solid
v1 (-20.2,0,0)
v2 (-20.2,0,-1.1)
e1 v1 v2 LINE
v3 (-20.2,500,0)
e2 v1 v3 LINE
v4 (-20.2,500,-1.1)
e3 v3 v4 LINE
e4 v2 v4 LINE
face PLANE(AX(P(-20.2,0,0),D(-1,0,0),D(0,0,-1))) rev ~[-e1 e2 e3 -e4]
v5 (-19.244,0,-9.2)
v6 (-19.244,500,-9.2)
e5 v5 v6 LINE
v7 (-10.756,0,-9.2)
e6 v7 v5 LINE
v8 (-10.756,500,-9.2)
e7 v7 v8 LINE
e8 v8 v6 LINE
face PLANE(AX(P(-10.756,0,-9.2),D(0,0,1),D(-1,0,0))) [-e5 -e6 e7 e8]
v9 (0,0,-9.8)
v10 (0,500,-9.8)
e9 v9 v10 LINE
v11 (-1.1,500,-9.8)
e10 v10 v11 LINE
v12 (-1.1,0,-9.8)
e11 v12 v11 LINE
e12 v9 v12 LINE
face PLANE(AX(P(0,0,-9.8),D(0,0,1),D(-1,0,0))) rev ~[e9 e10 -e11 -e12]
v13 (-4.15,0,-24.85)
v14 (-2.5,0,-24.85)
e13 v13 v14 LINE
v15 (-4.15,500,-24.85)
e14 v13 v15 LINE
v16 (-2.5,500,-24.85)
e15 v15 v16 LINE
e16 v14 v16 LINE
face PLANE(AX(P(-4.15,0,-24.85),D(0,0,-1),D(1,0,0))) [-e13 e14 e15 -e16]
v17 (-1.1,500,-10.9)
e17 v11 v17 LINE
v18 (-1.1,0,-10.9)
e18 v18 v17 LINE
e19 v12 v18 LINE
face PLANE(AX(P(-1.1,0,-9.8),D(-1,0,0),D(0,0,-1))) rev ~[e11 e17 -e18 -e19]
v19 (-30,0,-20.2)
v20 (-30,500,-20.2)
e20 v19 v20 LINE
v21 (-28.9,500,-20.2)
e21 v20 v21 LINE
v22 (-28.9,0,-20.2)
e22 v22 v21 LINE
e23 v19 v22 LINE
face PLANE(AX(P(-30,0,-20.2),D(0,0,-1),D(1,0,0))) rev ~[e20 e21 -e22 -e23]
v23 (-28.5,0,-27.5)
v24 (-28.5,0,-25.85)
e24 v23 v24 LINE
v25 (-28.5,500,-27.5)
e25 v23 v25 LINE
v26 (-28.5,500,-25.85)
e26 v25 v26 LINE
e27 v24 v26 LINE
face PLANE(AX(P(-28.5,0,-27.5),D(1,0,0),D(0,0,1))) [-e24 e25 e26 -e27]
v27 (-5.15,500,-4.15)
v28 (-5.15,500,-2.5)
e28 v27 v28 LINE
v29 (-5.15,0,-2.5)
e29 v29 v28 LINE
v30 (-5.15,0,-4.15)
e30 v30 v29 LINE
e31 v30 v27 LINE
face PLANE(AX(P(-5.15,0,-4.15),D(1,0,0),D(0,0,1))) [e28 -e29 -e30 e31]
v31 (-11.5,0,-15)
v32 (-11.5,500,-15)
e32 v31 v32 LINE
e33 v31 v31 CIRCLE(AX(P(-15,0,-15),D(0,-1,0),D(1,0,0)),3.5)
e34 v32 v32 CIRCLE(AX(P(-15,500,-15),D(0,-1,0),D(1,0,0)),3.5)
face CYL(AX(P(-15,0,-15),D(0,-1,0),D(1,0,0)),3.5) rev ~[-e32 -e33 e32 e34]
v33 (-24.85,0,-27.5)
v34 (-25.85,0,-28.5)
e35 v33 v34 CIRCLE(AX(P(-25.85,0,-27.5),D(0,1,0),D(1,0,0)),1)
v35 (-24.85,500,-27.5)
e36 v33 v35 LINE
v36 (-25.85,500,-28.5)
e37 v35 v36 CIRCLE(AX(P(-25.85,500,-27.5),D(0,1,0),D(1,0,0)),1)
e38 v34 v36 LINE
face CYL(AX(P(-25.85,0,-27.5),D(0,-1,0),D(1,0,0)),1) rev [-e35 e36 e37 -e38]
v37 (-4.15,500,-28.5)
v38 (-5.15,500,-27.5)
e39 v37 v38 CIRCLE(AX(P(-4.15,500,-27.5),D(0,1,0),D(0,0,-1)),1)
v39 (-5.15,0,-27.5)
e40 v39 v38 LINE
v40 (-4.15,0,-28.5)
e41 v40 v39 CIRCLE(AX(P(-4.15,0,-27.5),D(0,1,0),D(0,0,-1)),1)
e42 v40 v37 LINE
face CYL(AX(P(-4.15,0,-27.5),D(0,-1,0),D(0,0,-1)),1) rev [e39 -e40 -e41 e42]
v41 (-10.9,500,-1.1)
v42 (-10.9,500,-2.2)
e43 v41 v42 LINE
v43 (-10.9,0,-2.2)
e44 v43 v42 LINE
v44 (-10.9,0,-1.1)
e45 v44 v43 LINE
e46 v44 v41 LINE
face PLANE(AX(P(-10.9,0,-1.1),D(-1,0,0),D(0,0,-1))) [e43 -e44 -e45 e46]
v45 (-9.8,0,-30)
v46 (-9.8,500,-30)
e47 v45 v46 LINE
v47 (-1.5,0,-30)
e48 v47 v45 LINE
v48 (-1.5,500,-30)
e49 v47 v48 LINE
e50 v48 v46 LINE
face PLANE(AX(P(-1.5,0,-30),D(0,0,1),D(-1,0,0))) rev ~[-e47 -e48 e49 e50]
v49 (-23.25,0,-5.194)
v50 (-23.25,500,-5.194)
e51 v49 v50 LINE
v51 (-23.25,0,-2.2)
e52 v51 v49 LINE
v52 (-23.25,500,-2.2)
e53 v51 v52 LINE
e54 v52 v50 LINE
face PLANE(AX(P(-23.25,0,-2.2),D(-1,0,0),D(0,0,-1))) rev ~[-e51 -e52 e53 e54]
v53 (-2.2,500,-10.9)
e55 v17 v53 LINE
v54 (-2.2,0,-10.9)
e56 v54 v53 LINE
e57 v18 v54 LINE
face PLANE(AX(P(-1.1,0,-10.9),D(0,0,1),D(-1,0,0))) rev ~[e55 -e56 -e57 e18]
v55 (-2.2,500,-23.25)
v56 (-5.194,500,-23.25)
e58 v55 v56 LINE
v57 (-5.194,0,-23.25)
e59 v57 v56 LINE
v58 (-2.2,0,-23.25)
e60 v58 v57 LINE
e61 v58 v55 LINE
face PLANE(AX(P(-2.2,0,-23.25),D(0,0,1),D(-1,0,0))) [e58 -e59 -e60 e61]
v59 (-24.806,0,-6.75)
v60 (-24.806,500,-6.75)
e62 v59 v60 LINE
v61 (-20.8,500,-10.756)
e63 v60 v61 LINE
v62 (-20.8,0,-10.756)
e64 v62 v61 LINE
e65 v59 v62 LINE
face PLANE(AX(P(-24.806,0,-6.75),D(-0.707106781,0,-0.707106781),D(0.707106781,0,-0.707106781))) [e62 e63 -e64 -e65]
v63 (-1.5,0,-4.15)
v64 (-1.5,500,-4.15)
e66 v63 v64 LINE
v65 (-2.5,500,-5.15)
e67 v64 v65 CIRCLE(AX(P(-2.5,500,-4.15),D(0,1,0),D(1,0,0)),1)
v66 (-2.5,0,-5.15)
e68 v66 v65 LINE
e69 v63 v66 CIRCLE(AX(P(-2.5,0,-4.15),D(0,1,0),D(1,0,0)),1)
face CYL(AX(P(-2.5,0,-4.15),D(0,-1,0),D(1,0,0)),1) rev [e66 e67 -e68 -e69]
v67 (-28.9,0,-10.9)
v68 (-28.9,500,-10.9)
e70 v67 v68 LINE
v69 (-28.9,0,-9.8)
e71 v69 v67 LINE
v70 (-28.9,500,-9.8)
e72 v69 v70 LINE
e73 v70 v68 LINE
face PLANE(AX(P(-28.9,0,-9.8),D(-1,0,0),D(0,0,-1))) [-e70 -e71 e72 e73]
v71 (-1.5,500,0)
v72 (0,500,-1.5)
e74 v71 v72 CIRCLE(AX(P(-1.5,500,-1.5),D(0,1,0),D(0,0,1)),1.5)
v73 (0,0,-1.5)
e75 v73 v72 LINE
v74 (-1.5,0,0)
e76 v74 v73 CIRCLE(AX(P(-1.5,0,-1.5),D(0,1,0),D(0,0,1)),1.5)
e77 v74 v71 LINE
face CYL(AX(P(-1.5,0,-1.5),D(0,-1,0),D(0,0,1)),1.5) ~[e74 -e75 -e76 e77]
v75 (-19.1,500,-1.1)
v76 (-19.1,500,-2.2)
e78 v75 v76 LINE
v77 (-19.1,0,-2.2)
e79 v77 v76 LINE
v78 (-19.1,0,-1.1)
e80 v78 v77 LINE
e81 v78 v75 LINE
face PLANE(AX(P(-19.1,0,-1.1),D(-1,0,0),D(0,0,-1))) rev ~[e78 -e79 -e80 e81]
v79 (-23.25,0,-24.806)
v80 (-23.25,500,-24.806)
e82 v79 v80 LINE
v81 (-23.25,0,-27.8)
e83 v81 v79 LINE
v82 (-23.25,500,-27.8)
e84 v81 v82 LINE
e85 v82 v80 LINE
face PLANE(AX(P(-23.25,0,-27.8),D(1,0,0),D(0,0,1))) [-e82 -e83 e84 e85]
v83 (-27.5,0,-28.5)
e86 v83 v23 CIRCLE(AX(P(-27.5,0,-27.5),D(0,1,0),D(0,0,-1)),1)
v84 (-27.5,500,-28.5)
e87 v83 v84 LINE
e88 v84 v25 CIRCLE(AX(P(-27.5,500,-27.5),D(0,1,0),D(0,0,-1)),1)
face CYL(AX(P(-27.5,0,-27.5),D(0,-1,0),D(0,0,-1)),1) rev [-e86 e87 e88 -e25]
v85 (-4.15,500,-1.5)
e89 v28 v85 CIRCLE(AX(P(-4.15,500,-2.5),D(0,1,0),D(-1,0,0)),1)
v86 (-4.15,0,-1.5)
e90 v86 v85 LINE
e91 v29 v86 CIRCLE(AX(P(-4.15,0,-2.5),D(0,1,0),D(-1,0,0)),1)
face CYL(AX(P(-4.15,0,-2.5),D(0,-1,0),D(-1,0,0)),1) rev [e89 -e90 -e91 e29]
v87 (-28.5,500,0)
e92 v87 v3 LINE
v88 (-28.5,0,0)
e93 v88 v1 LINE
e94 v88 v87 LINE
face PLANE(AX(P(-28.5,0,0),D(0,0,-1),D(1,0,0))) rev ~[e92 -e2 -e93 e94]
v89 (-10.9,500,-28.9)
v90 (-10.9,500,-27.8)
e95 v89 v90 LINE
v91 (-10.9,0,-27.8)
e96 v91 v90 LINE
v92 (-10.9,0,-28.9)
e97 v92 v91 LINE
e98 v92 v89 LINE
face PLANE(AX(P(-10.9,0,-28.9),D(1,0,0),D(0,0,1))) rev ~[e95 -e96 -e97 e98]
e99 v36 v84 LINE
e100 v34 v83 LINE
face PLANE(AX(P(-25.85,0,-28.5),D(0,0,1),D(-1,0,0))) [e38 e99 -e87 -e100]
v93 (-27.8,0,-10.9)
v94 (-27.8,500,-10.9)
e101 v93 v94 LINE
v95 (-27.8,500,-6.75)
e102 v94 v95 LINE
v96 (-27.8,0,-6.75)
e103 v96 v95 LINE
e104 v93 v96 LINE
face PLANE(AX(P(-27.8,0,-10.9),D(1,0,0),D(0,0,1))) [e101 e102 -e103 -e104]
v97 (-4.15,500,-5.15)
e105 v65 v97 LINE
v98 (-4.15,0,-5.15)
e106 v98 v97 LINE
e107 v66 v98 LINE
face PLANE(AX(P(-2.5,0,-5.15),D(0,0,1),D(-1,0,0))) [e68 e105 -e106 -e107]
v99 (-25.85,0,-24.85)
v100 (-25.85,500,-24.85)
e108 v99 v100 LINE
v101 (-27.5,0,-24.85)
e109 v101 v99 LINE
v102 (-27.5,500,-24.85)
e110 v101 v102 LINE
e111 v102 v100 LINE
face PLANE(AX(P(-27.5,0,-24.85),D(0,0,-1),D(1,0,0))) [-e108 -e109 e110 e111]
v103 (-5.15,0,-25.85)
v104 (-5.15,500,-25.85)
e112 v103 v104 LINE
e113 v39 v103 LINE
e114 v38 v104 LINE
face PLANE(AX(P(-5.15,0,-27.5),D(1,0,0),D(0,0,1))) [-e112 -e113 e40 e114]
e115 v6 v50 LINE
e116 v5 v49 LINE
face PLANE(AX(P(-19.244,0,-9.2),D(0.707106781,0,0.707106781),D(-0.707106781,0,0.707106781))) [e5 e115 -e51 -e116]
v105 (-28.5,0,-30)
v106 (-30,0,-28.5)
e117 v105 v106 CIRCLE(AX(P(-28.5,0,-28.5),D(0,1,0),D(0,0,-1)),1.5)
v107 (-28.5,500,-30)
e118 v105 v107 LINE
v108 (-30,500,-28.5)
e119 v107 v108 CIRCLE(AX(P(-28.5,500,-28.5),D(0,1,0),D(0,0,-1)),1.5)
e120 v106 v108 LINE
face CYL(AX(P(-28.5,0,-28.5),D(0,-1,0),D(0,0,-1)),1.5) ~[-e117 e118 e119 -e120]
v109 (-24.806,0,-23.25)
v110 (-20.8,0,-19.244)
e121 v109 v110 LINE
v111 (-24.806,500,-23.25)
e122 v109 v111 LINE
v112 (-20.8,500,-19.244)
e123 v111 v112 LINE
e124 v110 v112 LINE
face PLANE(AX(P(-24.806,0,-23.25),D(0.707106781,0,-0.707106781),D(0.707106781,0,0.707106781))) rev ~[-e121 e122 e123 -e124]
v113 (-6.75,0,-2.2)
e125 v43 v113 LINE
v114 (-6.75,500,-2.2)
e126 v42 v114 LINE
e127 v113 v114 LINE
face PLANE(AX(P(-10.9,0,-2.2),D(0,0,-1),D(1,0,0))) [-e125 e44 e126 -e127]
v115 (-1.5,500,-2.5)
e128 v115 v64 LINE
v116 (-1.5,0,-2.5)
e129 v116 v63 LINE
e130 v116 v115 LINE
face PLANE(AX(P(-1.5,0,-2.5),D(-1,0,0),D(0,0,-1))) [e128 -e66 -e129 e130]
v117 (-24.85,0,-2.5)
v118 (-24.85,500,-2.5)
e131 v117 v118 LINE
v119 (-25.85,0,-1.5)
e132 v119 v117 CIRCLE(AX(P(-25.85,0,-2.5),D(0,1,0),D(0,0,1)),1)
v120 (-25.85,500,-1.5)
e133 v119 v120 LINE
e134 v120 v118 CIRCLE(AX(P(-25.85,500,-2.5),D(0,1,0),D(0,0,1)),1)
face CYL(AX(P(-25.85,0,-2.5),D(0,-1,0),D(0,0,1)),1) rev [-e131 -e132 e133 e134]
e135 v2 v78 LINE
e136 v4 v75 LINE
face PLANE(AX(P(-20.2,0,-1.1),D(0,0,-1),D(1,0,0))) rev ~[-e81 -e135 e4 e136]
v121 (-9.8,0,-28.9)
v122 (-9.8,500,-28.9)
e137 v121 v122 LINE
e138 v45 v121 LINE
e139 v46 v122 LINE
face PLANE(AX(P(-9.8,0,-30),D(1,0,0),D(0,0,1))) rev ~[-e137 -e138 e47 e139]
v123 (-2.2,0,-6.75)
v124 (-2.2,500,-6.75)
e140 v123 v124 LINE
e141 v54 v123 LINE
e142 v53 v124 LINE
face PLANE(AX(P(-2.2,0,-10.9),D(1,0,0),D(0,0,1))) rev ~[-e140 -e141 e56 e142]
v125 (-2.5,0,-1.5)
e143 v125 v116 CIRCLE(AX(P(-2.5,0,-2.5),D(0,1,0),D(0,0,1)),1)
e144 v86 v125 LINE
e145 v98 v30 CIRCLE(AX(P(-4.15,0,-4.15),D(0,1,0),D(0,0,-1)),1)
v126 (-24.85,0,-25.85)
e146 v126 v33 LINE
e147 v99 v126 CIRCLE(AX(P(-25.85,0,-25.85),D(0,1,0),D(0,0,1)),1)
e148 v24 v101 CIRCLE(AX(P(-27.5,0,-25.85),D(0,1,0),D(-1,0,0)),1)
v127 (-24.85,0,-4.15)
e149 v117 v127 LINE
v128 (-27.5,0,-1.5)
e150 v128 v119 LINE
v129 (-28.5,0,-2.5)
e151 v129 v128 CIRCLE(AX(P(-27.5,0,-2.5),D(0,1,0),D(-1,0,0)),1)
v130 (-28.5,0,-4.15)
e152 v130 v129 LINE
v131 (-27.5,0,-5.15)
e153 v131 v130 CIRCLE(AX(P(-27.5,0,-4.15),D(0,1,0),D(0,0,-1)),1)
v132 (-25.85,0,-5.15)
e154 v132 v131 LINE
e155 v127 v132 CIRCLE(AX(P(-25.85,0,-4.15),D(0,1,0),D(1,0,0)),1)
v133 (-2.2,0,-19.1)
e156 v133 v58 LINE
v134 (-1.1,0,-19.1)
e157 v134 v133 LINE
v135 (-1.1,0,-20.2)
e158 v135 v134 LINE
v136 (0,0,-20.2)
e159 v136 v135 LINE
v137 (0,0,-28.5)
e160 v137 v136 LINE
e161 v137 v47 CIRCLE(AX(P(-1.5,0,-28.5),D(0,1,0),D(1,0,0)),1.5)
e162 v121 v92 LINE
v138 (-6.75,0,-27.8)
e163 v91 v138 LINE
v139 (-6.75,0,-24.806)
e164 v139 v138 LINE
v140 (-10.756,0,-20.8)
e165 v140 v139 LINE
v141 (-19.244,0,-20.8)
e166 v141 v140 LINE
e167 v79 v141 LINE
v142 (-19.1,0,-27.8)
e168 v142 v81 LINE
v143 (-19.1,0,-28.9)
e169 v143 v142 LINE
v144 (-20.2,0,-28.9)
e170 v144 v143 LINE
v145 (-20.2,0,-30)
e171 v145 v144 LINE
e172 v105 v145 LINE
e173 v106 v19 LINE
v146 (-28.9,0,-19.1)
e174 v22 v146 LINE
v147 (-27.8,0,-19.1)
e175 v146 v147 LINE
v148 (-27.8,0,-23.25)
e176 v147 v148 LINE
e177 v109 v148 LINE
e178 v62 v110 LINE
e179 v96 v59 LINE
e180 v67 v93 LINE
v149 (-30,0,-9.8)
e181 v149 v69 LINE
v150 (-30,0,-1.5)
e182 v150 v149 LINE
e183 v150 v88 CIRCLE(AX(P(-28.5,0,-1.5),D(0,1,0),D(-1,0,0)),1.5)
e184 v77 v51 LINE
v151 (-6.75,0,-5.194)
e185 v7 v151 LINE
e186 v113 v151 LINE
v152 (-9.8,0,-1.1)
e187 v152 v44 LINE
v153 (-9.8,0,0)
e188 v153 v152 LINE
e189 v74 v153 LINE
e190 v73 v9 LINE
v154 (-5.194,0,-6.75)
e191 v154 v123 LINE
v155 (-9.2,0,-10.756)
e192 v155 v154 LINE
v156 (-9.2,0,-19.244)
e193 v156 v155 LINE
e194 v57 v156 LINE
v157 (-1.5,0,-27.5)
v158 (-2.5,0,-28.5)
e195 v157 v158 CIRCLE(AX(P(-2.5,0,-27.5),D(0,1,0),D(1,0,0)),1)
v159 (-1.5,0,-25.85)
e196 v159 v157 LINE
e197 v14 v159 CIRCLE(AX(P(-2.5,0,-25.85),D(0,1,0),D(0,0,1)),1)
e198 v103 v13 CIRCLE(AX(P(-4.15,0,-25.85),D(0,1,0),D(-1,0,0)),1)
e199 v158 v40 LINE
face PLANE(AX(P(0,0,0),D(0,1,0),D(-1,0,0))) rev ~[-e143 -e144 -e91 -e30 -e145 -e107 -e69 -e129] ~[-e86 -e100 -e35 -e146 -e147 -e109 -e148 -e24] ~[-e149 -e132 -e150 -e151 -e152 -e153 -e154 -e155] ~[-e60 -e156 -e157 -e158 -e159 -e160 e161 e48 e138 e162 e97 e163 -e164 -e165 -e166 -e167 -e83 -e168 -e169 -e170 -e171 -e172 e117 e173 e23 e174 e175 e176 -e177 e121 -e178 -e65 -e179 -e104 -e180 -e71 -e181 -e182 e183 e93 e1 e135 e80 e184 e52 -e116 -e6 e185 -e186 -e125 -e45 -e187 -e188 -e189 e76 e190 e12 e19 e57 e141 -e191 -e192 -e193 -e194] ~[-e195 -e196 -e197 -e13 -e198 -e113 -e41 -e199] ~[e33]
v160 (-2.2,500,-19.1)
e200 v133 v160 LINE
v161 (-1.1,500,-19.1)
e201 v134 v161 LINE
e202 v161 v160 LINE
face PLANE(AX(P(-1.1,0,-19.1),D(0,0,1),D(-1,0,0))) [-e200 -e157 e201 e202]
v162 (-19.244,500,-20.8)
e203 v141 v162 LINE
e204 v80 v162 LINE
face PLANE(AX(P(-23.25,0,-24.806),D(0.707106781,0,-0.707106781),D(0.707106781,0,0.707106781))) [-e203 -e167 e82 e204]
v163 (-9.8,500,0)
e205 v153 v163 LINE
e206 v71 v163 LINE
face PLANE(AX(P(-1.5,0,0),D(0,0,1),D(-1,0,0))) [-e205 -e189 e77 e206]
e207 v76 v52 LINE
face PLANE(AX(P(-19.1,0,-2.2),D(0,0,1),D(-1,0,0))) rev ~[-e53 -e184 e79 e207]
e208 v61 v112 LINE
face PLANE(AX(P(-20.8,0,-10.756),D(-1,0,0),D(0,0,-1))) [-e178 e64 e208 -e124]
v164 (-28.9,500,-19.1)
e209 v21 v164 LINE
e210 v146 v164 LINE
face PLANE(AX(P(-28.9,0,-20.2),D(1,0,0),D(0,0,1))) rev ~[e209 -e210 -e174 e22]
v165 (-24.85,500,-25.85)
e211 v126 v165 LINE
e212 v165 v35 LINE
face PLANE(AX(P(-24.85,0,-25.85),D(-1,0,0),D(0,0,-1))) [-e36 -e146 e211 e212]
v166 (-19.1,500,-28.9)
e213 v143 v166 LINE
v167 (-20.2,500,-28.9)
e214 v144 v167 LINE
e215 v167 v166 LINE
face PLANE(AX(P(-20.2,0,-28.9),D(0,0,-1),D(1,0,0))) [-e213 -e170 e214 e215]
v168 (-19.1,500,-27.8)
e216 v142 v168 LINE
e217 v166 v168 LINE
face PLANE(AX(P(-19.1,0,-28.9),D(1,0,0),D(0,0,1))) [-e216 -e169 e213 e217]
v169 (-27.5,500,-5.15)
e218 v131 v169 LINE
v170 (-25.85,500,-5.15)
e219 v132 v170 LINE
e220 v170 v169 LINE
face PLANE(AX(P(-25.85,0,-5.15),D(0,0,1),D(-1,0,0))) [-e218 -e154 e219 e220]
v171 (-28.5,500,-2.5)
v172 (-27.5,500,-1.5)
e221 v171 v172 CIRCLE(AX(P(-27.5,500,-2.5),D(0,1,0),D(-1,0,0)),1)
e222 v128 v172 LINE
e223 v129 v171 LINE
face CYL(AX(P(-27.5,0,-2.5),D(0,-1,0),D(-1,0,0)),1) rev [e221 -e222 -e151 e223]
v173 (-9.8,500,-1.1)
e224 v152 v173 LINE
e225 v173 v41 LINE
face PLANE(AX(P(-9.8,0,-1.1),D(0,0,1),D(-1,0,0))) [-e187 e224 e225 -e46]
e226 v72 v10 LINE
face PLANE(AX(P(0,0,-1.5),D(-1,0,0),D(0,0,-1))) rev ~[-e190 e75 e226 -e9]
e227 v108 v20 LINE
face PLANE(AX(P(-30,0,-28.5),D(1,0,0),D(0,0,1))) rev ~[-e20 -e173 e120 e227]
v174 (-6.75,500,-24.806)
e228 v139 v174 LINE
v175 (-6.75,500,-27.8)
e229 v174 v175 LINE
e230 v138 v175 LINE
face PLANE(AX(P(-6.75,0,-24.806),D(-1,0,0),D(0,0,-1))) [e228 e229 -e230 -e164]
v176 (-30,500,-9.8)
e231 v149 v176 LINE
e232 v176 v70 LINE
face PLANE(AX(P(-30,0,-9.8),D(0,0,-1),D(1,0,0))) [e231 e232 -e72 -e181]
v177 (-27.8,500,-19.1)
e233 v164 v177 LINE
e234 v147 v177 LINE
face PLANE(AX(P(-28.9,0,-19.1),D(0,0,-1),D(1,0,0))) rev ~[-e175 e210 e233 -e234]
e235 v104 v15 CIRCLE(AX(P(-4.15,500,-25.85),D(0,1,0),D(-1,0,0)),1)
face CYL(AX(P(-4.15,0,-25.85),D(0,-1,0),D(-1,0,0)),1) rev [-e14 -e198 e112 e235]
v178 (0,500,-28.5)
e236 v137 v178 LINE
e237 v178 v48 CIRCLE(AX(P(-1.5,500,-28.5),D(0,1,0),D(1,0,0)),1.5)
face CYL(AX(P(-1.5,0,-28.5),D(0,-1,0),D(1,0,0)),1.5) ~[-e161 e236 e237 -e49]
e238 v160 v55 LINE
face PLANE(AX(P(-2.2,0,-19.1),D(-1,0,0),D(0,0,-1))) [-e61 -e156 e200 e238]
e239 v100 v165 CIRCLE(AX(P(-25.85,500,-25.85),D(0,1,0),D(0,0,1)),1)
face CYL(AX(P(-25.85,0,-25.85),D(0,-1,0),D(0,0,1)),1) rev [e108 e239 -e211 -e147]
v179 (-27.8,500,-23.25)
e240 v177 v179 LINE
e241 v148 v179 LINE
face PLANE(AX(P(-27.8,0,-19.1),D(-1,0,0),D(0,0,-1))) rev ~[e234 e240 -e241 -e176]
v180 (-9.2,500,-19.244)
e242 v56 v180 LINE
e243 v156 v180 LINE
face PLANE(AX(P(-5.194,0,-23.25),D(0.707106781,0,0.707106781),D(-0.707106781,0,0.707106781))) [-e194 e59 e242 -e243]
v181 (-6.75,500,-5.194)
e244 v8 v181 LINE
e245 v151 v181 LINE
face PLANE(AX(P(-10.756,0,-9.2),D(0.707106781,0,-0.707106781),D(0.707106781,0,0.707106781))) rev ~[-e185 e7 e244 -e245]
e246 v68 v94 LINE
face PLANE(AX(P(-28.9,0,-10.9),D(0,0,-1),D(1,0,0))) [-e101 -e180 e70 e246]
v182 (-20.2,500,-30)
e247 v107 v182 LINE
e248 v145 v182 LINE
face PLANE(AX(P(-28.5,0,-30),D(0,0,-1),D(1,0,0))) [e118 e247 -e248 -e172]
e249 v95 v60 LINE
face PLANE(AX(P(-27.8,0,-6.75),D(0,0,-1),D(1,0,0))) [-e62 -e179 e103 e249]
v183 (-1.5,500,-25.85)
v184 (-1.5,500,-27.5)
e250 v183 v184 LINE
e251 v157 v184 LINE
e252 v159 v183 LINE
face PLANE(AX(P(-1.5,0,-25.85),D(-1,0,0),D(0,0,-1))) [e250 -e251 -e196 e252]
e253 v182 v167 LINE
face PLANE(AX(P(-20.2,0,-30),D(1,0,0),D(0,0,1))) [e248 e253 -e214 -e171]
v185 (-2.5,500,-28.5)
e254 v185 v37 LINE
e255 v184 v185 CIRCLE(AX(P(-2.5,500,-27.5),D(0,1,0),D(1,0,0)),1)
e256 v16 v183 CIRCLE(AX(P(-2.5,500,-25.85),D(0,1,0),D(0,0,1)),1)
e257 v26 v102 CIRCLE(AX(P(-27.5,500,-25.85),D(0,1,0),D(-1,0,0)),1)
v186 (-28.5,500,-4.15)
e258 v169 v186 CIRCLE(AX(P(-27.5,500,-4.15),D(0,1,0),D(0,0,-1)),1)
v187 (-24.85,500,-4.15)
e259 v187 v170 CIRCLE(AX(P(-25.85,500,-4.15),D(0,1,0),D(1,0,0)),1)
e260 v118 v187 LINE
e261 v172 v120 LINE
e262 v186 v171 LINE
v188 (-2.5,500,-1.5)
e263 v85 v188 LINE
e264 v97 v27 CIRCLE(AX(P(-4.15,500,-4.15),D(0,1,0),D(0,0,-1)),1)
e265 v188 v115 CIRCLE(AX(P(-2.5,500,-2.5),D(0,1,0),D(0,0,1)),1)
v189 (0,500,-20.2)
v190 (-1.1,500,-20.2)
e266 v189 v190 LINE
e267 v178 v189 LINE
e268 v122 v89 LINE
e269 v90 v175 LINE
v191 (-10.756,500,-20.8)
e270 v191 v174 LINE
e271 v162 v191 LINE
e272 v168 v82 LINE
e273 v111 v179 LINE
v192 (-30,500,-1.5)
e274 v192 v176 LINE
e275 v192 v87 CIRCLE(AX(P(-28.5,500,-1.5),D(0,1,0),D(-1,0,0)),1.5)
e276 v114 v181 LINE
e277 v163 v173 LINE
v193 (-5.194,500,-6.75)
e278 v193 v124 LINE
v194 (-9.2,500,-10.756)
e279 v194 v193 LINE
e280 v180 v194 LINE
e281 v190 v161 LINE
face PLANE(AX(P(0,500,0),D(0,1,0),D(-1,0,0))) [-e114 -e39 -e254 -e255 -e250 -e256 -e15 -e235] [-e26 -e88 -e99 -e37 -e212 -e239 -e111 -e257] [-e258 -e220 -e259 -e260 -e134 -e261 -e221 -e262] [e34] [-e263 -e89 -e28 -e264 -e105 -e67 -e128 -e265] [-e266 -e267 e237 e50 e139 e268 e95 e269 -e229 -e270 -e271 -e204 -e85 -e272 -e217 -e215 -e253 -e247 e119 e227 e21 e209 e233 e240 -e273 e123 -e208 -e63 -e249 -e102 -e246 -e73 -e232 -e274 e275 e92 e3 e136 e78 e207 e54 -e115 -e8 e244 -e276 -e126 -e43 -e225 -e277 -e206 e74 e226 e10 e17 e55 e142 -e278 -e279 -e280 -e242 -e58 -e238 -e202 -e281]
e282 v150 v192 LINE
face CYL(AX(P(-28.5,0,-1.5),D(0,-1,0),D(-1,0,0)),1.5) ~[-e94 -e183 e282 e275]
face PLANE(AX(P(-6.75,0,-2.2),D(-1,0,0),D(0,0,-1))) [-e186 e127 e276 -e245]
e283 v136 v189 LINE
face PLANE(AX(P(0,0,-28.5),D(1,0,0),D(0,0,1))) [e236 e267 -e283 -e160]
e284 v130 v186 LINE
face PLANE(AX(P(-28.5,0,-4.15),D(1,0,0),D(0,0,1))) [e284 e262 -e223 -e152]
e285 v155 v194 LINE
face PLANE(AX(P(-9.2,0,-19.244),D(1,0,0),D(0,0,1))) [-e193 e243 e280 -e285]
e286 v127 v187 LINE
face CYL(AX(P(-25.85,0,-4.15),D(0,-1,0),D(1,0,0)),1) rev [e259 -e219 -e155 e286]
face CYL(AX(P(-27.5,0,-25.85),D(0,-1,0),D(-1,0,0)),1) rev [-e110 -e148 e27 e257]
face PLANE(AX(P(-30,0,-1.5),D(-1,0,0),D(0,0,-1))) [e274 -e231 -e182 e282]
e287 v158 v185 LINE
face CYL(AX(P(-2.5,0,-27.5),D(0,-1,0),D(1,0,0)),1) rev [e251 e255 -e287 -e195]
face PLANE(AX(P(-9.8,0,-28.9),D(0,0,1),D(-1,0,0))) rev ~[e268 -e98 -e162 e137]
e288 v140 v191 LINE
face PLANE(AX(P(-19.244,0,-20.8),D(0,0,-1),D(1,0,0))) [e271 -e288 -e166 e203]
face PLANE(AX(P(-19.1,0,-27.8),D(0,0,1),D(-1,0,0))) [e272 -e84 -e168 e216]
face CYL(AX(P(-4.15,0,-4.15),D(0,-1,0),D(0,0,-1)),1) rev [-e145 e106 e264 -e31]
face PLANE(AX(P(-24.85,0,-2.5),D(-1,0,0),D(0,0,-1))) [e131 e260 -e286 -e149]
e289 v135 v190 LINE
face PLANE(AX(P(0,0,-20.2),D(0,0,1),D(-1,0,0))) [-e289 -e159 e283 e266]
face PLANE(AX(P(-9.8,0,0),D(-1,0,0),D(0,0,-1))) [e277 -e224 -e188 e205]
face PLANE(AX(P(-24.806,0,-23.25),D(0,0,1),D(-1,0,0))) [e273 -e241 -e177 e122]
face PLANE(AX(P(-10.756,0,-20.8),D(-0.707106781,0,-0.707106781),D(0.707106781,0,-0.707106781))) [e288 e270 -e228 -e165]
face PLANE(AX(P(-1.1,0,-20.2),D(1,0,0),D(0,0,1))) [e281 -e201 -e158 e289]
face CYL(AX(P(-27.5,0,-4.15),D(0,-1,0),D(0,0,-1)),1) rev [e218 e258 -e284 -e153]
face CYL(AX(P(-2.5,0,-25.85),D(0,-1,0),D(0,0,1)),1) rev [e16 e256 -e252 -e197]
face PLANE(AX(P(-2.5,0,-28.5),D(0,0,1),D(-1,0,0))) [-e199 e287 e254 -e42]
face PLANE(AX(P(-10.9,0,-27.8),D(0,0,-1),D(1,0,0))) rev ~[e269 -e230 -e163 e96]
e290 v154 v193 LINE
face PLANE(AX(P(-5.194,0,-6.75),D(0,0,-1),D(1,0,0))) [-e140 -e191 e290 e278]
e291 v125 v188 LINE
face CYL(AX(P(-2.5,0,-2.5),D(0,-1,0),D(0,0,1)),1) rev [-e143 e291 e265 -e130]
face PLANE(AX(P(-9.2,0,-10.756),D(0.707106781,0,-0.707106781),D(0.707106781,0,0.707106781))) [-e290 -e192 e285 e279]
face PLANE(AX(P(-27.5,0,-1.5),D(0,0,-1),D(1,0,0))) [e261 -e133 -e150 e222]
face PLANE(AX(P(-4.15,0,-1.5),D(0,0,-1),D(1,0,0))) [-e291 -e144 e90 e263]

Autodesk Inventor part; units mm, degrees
ref_plane "YZ Plane" through (0, 0, 0) normal (1, 0, 0) x (0, 1, 0)
ref_plane "XZ Plane" through (0, 0, 0) normal (0, 1, 0) x (-1, 0, 0)
ref_plane "XY Plane" through (0, 0, 0) normal (0, 0, 1) x (1, 0, 0)
sketch "Sketch1" plane through (0, 0, 0) normal (0, 1, 0) x (-1, 0, 0)
  line L0 (0, -1.5) -> (0, -9.8)
  line L1 (0, -9.8) -> (1.1, -9.8)
  line L2 (1.1, -9.8) -> (1.1, -10.9)
  line L3 (1.1, -10.9) -> (2.2, -10.9)
  line L4 (2.2, -10.9) -> (2.2, -6.75)
  line L5 (0, -28.5) -> (0, -20.2)
  line L6 (0, -20.2) -> (1.1, -20.2)
  line L7 (1.1, -20.2) -> (1.1, -19.1)
  line L8 (1.1, -19.1) -> (2.2, -19.1)
  line L9 (2.2, -19.1) -> (2.2, -23.25)
  line L10 (1.5, 0) -> (9.8, 0)
  line L11 (9.8, 0) -> (9.8, -1.1)
  line L12 (9.8, -1.1) -> (10.9, -1.1)
  line L13 (10.9, -1.1) -> (10.9, -2.2)
  line L14 (10.9, -2.2) -> (6.75, -2.2)
  line L15 (28.5, 0) -> (20.2, 0)
  line L16 (20.2, 0) -> (20.2, -1.1)
  line L17 (20.2, -1.1) -> (19.1, -1.1)
  line L18 (19.1, -1.1) -> (19.1, -2.2)
  line L19 (19.1, -2.2) -> (23.25, -2.2)
  line L20 (30, -1.5) -> (30, -9.8)
  line L21 (30, -9.8) -> (28.9, -9.8)
  line L22 (28.9, -9.8) -> (28.9, -10.9)
  line L23 (28.9, -10.9) -> (27.8, -10.9)
  line L24 (27.8, -10.9) -> (27.8, -6.75)
  line L25 (30, -28.5) -> (30, -20.2)
  line L26 (30, -20.2) -> (28.9, -20.2)
  line L27 (28.9, -20.2) -> (28.9, -19.1)
  line L28 (28.9, -19.1) -> (27.8, -19.1)
  line L29 (27.8, -19.1) -> (27.8, -23.25)
  line L30 (28.5, -30) -> (20.2, -30)
  line L31 (20.2, -30) -> (20.2, -28.9)
  line L32 (20.2, -28.9) -> (19.1, -28.9)
  line L33 (19.1, -28.9) -> (19.1, -27.8)
  line L34 (19.1, -27.8) -> (23.25, -27.8)
  line L35 (1.5, -30) -> (9.8, -30)
  line L36 (9.8, -30) -> (9.8, -28.9)
  line L37 (9.8, -28.9) -> (10.9, -28.9)
  line L38 (10.9, -28.9) -> (10.9, -27.8)
  line L39 (10.9, -27.8) -> (6.75, -27.8)
  line L40 (6.75, -2.2) -> (6.75, -6.75)
  line L41 (6.75, -6.75) -> (2.2, -6.75)
  line L42 (2.2, -23.25) -> (6.75, -23.25)
  line L43 (6.75, -23.25) -> (6.75, -27.8)
  line L44 (23.25, -27.8) -> (23.25, -23.25)
  line L45 (23.25, -23.25) -> (27.8, -23.25)
  line L46 (27.8, -6.75) -> (23.25, -6.75)
  line L47 (23.25, -2.2) -> (23.25, -6.75)
  line L48 (9.2, -9.2) -> (20.8, -9.2)
  line L49 (20.8, -9.2) -> (20.8, -20.8)
  line L50 (20.8, -20.8) -> (9.2, -20.8)
  line L51 (9.2, -20.8) -> (9.2, -9.2)
  line L52 (23.25, -6.75) -> (23.25, -5.194)
  line L53 (23.25, -6.75) -> (24.806, -6.75)
  line L54 (6.75, -6.75) -> (5.194, -6.75)
  line L55 (6.75, -6.75) -> (6.75, -5.194)
  line L56 (6.75, -23.25) -> (5.194, -23.25)
  line L57 (6.75, -23.25) -> (6.75, -24.806)
  line L58 (23.25, -23.25) -> (23.25, -24.806)
  line L59 (23.25, -23.25) -> (24.806, -23.25)
  line L60 (5.194, -23.25) -> (23.25, -5.194)
  line L61 (24.806, -6.75) -> (6.75, -24.806)
  circle A0 centre (15, -15) radius 3.4
  arc A1 (1.5, 0) -> (0, -1.5) centre (1.5, -1.5) ccw
  arc A2 (0, -28.5) -> (1.5, -30) centre (1.5, -28.5) ccw
  arc A3 (28.5, -30) -> (30, -28.5) centre (28.5, -28.5) ccw
  arc A4 (30, -1.5) -> (28.5, 0) centre (28.5, -1.5) ccw
  line L62 (27.5, -1.5) -> (25.85, -1.5)
  line L63 (24.85, -2.5) -> (24.85, -4.15)
  line L64 (25.85, -5.15) -> (27.5, -5.15)
  line L65 (28.5, -4.15) -> (28.5, -2.5)
  line L66 (27.5, -24.85) -> (25.85, -24.85)
  line L67 (24.85, -25.85) -> (24.85, -27.5)
  line L68 (25.85, -28.5) -> (27.5, -28.5)
  line L69 (28.5, -27.5) -> (28.5, -25.85)
  line L70 (4.15, -24.85) -> (2.5, -24.85)
  line L71 (1.5, -25.85) -> (1.5, -27.5)
  line L72 (2.5, -28.5) -> (4.15, -28.5)
  line L73 (5.15, -27.5) -> (5.15, -25.85)
  line L74 (4.15, -1.5) -> (2.5, -1.5)
  line L75 (1.5, -2.5) -> (1.5, -4.15)
  line L76 (2.5, -5.15) -> (4.15, -5.15)
  line L77 (5.15, -4.15) -> (5.15, -2.5)
  arc A5 (27.5, -5.15) -> (28.5, -4.15) centre (27.5, -4.15) ccw
  arc A6 (28.5, -2.5) -> (27.5, -1.5) centre (27.5, -2.5) ccw
  arc A7 (25.85, -1.5) -> (24.85, -2.5) centre (25.85, -2.5) ccw
  arc A8 (24.85, -4.15) -> (25.85, -5.15) centre (25.85, -4.15) ccw
  arc A9 (5.15, -2.5) -> (4.15, -1.5) centre (4.15, -2.5) ccw
  arc A10 (1.5, -4.15) -> (2.5, -5.15) centre (2.5, -4.15) ccw
  arc A11 (4.15, -5.15) -> (5.15, -4.15) centre (4.15, -4.15) ccw
  arc A12 (2.5, -1.5) -> (1.5, -2.5) centre (2.5, -2.5) ccw
  arc A13 (2.5, -24.85) -> (1.5, -25.85) centre (2.5, -25.85) ccw
  arc A14 (5.15, -25.85) -> (4.15, -24.85) centre (4.15, -25.85) ccw
  arc A15 (4.15, -28.5) -> (5.15, -27.5) centre (4.15, -27.5) ccw
  arc A16 (1.5, -27.5) -> (2.5, -28.5) centre (2.5, -27.5) ccw
  arc A17 (25.85, -24.85) -> (24.85, -25.85) centre (25.85, -25.85) ccw
  arc A18 (28.5, -25.85) -> (27.5, -24.85) centre (27.5, -25.85) ccw
  arc A19 (27.5, -28.5) -> (28.5, -27.5) centre (27.5, -27.5) ccw
  arc A20 (24.85, -27.5) -> (25.85, -28.5) centre (25.85, -27.5) ccw
  line L78 (24.806, -23.25) -> (6.75, -5.194)
  line L79 (23.25, -24.806) -> (5.194, -6.75)
  point P0 (0, 0)
  point P1 (0, -30)
  point P2 (9.2, -15)
  point P3 (0, -15)
  point P4 (15, 0)
  point P5 (15, -9.2)
  dimension "d52" = 9.8
  dimension "d61" = 6.8
  dimension "d62" = 1.5
  dimension "d75" = 1.5
  dimension "d76" = 1.5
  dimension "d81" = 1
  dimension "d82" = 1.556
  dimension "d83" = 1.556
  dimension "d84" = 1.556
  dimension "d85" = 1.556
  dimension "d86" = 1.556
  dimension "d87" = 1.556
  dimension "d88" = 1.556
extrude "Extrusion1" add sketch "Sketch1" along normal blind 500 contours A1 L10 L11 L12 L13 L14 L40 L41 L4 L3 L2 L1 L0 | L41 L40 L78 L48 L51 L79 | L79 A0 L60 L51 | L51 L48 L78 A0 L79 | L60 A0 L61 L50 L51 | L51 L50 L61 L43 L42 L60 | A0 L78 L60 L79 | L48 L60 A0 L78 | L42 L43 L39 L38 L37 L36 L35 A2 L5 L6 L7 L8 L9 | L60 L79 L61 A0 | L60 L78 L61 L79 | L60 L47 L46 L61 L49 L48 | L48 L49 L61 A0 L60 | L61 A0 L79 L50 | A0 L61 L78 L60 | L61 L78 A0 L79 | L47 L19 L18 L17 L16 L15 A4 L20 L21 L22 L23 L24 L46 | L79 A0 L78 L49 L50 | L50 L49 L78 L45 L44 L79 | L61 L49 L78 A0 | L44 L45 L29 L28 L27 L26 L25 A3 L30 L31 L32 L33 L34
sketch "Sketch2" plane through (0, 0, 0) normal (0, -1, 0) x (1, 0, 0)
  circle A0 centre (-15, -15) radius 3.5
  line L0 (-20.2, -30) -> (-9.8, -30)
  line L1 (-1.5, -30) -> (-9.8, -30) projected
  line L2 (-30, -9.8) -> (-30, -20.2)
  point P0 (0, 0)
  point P1 (-30, -15)
  point P2 (-15, -30)
  dimension "d91" = 7
extrude "Extrusion2" cut sketch "Sketch2" against normal blind 500
sketch "Sketch3" plane through (0, 0, 0) normal (0, -1, 0) x (1, 0, 0)
  point P0 (0, 0)
sketch "Sketch4" plane through (-19.244, 0, -9.2) normal (0, 0, 1) x (1, 0, 0)
  point P0 (34.244, 485)
sketch "Sketch5" plane through (-19.244, 0, -9.2) normal (0, 0, 1) x (1, 0, 0)
  point P0 (-25.756, 15)
properties part number "Balka"
